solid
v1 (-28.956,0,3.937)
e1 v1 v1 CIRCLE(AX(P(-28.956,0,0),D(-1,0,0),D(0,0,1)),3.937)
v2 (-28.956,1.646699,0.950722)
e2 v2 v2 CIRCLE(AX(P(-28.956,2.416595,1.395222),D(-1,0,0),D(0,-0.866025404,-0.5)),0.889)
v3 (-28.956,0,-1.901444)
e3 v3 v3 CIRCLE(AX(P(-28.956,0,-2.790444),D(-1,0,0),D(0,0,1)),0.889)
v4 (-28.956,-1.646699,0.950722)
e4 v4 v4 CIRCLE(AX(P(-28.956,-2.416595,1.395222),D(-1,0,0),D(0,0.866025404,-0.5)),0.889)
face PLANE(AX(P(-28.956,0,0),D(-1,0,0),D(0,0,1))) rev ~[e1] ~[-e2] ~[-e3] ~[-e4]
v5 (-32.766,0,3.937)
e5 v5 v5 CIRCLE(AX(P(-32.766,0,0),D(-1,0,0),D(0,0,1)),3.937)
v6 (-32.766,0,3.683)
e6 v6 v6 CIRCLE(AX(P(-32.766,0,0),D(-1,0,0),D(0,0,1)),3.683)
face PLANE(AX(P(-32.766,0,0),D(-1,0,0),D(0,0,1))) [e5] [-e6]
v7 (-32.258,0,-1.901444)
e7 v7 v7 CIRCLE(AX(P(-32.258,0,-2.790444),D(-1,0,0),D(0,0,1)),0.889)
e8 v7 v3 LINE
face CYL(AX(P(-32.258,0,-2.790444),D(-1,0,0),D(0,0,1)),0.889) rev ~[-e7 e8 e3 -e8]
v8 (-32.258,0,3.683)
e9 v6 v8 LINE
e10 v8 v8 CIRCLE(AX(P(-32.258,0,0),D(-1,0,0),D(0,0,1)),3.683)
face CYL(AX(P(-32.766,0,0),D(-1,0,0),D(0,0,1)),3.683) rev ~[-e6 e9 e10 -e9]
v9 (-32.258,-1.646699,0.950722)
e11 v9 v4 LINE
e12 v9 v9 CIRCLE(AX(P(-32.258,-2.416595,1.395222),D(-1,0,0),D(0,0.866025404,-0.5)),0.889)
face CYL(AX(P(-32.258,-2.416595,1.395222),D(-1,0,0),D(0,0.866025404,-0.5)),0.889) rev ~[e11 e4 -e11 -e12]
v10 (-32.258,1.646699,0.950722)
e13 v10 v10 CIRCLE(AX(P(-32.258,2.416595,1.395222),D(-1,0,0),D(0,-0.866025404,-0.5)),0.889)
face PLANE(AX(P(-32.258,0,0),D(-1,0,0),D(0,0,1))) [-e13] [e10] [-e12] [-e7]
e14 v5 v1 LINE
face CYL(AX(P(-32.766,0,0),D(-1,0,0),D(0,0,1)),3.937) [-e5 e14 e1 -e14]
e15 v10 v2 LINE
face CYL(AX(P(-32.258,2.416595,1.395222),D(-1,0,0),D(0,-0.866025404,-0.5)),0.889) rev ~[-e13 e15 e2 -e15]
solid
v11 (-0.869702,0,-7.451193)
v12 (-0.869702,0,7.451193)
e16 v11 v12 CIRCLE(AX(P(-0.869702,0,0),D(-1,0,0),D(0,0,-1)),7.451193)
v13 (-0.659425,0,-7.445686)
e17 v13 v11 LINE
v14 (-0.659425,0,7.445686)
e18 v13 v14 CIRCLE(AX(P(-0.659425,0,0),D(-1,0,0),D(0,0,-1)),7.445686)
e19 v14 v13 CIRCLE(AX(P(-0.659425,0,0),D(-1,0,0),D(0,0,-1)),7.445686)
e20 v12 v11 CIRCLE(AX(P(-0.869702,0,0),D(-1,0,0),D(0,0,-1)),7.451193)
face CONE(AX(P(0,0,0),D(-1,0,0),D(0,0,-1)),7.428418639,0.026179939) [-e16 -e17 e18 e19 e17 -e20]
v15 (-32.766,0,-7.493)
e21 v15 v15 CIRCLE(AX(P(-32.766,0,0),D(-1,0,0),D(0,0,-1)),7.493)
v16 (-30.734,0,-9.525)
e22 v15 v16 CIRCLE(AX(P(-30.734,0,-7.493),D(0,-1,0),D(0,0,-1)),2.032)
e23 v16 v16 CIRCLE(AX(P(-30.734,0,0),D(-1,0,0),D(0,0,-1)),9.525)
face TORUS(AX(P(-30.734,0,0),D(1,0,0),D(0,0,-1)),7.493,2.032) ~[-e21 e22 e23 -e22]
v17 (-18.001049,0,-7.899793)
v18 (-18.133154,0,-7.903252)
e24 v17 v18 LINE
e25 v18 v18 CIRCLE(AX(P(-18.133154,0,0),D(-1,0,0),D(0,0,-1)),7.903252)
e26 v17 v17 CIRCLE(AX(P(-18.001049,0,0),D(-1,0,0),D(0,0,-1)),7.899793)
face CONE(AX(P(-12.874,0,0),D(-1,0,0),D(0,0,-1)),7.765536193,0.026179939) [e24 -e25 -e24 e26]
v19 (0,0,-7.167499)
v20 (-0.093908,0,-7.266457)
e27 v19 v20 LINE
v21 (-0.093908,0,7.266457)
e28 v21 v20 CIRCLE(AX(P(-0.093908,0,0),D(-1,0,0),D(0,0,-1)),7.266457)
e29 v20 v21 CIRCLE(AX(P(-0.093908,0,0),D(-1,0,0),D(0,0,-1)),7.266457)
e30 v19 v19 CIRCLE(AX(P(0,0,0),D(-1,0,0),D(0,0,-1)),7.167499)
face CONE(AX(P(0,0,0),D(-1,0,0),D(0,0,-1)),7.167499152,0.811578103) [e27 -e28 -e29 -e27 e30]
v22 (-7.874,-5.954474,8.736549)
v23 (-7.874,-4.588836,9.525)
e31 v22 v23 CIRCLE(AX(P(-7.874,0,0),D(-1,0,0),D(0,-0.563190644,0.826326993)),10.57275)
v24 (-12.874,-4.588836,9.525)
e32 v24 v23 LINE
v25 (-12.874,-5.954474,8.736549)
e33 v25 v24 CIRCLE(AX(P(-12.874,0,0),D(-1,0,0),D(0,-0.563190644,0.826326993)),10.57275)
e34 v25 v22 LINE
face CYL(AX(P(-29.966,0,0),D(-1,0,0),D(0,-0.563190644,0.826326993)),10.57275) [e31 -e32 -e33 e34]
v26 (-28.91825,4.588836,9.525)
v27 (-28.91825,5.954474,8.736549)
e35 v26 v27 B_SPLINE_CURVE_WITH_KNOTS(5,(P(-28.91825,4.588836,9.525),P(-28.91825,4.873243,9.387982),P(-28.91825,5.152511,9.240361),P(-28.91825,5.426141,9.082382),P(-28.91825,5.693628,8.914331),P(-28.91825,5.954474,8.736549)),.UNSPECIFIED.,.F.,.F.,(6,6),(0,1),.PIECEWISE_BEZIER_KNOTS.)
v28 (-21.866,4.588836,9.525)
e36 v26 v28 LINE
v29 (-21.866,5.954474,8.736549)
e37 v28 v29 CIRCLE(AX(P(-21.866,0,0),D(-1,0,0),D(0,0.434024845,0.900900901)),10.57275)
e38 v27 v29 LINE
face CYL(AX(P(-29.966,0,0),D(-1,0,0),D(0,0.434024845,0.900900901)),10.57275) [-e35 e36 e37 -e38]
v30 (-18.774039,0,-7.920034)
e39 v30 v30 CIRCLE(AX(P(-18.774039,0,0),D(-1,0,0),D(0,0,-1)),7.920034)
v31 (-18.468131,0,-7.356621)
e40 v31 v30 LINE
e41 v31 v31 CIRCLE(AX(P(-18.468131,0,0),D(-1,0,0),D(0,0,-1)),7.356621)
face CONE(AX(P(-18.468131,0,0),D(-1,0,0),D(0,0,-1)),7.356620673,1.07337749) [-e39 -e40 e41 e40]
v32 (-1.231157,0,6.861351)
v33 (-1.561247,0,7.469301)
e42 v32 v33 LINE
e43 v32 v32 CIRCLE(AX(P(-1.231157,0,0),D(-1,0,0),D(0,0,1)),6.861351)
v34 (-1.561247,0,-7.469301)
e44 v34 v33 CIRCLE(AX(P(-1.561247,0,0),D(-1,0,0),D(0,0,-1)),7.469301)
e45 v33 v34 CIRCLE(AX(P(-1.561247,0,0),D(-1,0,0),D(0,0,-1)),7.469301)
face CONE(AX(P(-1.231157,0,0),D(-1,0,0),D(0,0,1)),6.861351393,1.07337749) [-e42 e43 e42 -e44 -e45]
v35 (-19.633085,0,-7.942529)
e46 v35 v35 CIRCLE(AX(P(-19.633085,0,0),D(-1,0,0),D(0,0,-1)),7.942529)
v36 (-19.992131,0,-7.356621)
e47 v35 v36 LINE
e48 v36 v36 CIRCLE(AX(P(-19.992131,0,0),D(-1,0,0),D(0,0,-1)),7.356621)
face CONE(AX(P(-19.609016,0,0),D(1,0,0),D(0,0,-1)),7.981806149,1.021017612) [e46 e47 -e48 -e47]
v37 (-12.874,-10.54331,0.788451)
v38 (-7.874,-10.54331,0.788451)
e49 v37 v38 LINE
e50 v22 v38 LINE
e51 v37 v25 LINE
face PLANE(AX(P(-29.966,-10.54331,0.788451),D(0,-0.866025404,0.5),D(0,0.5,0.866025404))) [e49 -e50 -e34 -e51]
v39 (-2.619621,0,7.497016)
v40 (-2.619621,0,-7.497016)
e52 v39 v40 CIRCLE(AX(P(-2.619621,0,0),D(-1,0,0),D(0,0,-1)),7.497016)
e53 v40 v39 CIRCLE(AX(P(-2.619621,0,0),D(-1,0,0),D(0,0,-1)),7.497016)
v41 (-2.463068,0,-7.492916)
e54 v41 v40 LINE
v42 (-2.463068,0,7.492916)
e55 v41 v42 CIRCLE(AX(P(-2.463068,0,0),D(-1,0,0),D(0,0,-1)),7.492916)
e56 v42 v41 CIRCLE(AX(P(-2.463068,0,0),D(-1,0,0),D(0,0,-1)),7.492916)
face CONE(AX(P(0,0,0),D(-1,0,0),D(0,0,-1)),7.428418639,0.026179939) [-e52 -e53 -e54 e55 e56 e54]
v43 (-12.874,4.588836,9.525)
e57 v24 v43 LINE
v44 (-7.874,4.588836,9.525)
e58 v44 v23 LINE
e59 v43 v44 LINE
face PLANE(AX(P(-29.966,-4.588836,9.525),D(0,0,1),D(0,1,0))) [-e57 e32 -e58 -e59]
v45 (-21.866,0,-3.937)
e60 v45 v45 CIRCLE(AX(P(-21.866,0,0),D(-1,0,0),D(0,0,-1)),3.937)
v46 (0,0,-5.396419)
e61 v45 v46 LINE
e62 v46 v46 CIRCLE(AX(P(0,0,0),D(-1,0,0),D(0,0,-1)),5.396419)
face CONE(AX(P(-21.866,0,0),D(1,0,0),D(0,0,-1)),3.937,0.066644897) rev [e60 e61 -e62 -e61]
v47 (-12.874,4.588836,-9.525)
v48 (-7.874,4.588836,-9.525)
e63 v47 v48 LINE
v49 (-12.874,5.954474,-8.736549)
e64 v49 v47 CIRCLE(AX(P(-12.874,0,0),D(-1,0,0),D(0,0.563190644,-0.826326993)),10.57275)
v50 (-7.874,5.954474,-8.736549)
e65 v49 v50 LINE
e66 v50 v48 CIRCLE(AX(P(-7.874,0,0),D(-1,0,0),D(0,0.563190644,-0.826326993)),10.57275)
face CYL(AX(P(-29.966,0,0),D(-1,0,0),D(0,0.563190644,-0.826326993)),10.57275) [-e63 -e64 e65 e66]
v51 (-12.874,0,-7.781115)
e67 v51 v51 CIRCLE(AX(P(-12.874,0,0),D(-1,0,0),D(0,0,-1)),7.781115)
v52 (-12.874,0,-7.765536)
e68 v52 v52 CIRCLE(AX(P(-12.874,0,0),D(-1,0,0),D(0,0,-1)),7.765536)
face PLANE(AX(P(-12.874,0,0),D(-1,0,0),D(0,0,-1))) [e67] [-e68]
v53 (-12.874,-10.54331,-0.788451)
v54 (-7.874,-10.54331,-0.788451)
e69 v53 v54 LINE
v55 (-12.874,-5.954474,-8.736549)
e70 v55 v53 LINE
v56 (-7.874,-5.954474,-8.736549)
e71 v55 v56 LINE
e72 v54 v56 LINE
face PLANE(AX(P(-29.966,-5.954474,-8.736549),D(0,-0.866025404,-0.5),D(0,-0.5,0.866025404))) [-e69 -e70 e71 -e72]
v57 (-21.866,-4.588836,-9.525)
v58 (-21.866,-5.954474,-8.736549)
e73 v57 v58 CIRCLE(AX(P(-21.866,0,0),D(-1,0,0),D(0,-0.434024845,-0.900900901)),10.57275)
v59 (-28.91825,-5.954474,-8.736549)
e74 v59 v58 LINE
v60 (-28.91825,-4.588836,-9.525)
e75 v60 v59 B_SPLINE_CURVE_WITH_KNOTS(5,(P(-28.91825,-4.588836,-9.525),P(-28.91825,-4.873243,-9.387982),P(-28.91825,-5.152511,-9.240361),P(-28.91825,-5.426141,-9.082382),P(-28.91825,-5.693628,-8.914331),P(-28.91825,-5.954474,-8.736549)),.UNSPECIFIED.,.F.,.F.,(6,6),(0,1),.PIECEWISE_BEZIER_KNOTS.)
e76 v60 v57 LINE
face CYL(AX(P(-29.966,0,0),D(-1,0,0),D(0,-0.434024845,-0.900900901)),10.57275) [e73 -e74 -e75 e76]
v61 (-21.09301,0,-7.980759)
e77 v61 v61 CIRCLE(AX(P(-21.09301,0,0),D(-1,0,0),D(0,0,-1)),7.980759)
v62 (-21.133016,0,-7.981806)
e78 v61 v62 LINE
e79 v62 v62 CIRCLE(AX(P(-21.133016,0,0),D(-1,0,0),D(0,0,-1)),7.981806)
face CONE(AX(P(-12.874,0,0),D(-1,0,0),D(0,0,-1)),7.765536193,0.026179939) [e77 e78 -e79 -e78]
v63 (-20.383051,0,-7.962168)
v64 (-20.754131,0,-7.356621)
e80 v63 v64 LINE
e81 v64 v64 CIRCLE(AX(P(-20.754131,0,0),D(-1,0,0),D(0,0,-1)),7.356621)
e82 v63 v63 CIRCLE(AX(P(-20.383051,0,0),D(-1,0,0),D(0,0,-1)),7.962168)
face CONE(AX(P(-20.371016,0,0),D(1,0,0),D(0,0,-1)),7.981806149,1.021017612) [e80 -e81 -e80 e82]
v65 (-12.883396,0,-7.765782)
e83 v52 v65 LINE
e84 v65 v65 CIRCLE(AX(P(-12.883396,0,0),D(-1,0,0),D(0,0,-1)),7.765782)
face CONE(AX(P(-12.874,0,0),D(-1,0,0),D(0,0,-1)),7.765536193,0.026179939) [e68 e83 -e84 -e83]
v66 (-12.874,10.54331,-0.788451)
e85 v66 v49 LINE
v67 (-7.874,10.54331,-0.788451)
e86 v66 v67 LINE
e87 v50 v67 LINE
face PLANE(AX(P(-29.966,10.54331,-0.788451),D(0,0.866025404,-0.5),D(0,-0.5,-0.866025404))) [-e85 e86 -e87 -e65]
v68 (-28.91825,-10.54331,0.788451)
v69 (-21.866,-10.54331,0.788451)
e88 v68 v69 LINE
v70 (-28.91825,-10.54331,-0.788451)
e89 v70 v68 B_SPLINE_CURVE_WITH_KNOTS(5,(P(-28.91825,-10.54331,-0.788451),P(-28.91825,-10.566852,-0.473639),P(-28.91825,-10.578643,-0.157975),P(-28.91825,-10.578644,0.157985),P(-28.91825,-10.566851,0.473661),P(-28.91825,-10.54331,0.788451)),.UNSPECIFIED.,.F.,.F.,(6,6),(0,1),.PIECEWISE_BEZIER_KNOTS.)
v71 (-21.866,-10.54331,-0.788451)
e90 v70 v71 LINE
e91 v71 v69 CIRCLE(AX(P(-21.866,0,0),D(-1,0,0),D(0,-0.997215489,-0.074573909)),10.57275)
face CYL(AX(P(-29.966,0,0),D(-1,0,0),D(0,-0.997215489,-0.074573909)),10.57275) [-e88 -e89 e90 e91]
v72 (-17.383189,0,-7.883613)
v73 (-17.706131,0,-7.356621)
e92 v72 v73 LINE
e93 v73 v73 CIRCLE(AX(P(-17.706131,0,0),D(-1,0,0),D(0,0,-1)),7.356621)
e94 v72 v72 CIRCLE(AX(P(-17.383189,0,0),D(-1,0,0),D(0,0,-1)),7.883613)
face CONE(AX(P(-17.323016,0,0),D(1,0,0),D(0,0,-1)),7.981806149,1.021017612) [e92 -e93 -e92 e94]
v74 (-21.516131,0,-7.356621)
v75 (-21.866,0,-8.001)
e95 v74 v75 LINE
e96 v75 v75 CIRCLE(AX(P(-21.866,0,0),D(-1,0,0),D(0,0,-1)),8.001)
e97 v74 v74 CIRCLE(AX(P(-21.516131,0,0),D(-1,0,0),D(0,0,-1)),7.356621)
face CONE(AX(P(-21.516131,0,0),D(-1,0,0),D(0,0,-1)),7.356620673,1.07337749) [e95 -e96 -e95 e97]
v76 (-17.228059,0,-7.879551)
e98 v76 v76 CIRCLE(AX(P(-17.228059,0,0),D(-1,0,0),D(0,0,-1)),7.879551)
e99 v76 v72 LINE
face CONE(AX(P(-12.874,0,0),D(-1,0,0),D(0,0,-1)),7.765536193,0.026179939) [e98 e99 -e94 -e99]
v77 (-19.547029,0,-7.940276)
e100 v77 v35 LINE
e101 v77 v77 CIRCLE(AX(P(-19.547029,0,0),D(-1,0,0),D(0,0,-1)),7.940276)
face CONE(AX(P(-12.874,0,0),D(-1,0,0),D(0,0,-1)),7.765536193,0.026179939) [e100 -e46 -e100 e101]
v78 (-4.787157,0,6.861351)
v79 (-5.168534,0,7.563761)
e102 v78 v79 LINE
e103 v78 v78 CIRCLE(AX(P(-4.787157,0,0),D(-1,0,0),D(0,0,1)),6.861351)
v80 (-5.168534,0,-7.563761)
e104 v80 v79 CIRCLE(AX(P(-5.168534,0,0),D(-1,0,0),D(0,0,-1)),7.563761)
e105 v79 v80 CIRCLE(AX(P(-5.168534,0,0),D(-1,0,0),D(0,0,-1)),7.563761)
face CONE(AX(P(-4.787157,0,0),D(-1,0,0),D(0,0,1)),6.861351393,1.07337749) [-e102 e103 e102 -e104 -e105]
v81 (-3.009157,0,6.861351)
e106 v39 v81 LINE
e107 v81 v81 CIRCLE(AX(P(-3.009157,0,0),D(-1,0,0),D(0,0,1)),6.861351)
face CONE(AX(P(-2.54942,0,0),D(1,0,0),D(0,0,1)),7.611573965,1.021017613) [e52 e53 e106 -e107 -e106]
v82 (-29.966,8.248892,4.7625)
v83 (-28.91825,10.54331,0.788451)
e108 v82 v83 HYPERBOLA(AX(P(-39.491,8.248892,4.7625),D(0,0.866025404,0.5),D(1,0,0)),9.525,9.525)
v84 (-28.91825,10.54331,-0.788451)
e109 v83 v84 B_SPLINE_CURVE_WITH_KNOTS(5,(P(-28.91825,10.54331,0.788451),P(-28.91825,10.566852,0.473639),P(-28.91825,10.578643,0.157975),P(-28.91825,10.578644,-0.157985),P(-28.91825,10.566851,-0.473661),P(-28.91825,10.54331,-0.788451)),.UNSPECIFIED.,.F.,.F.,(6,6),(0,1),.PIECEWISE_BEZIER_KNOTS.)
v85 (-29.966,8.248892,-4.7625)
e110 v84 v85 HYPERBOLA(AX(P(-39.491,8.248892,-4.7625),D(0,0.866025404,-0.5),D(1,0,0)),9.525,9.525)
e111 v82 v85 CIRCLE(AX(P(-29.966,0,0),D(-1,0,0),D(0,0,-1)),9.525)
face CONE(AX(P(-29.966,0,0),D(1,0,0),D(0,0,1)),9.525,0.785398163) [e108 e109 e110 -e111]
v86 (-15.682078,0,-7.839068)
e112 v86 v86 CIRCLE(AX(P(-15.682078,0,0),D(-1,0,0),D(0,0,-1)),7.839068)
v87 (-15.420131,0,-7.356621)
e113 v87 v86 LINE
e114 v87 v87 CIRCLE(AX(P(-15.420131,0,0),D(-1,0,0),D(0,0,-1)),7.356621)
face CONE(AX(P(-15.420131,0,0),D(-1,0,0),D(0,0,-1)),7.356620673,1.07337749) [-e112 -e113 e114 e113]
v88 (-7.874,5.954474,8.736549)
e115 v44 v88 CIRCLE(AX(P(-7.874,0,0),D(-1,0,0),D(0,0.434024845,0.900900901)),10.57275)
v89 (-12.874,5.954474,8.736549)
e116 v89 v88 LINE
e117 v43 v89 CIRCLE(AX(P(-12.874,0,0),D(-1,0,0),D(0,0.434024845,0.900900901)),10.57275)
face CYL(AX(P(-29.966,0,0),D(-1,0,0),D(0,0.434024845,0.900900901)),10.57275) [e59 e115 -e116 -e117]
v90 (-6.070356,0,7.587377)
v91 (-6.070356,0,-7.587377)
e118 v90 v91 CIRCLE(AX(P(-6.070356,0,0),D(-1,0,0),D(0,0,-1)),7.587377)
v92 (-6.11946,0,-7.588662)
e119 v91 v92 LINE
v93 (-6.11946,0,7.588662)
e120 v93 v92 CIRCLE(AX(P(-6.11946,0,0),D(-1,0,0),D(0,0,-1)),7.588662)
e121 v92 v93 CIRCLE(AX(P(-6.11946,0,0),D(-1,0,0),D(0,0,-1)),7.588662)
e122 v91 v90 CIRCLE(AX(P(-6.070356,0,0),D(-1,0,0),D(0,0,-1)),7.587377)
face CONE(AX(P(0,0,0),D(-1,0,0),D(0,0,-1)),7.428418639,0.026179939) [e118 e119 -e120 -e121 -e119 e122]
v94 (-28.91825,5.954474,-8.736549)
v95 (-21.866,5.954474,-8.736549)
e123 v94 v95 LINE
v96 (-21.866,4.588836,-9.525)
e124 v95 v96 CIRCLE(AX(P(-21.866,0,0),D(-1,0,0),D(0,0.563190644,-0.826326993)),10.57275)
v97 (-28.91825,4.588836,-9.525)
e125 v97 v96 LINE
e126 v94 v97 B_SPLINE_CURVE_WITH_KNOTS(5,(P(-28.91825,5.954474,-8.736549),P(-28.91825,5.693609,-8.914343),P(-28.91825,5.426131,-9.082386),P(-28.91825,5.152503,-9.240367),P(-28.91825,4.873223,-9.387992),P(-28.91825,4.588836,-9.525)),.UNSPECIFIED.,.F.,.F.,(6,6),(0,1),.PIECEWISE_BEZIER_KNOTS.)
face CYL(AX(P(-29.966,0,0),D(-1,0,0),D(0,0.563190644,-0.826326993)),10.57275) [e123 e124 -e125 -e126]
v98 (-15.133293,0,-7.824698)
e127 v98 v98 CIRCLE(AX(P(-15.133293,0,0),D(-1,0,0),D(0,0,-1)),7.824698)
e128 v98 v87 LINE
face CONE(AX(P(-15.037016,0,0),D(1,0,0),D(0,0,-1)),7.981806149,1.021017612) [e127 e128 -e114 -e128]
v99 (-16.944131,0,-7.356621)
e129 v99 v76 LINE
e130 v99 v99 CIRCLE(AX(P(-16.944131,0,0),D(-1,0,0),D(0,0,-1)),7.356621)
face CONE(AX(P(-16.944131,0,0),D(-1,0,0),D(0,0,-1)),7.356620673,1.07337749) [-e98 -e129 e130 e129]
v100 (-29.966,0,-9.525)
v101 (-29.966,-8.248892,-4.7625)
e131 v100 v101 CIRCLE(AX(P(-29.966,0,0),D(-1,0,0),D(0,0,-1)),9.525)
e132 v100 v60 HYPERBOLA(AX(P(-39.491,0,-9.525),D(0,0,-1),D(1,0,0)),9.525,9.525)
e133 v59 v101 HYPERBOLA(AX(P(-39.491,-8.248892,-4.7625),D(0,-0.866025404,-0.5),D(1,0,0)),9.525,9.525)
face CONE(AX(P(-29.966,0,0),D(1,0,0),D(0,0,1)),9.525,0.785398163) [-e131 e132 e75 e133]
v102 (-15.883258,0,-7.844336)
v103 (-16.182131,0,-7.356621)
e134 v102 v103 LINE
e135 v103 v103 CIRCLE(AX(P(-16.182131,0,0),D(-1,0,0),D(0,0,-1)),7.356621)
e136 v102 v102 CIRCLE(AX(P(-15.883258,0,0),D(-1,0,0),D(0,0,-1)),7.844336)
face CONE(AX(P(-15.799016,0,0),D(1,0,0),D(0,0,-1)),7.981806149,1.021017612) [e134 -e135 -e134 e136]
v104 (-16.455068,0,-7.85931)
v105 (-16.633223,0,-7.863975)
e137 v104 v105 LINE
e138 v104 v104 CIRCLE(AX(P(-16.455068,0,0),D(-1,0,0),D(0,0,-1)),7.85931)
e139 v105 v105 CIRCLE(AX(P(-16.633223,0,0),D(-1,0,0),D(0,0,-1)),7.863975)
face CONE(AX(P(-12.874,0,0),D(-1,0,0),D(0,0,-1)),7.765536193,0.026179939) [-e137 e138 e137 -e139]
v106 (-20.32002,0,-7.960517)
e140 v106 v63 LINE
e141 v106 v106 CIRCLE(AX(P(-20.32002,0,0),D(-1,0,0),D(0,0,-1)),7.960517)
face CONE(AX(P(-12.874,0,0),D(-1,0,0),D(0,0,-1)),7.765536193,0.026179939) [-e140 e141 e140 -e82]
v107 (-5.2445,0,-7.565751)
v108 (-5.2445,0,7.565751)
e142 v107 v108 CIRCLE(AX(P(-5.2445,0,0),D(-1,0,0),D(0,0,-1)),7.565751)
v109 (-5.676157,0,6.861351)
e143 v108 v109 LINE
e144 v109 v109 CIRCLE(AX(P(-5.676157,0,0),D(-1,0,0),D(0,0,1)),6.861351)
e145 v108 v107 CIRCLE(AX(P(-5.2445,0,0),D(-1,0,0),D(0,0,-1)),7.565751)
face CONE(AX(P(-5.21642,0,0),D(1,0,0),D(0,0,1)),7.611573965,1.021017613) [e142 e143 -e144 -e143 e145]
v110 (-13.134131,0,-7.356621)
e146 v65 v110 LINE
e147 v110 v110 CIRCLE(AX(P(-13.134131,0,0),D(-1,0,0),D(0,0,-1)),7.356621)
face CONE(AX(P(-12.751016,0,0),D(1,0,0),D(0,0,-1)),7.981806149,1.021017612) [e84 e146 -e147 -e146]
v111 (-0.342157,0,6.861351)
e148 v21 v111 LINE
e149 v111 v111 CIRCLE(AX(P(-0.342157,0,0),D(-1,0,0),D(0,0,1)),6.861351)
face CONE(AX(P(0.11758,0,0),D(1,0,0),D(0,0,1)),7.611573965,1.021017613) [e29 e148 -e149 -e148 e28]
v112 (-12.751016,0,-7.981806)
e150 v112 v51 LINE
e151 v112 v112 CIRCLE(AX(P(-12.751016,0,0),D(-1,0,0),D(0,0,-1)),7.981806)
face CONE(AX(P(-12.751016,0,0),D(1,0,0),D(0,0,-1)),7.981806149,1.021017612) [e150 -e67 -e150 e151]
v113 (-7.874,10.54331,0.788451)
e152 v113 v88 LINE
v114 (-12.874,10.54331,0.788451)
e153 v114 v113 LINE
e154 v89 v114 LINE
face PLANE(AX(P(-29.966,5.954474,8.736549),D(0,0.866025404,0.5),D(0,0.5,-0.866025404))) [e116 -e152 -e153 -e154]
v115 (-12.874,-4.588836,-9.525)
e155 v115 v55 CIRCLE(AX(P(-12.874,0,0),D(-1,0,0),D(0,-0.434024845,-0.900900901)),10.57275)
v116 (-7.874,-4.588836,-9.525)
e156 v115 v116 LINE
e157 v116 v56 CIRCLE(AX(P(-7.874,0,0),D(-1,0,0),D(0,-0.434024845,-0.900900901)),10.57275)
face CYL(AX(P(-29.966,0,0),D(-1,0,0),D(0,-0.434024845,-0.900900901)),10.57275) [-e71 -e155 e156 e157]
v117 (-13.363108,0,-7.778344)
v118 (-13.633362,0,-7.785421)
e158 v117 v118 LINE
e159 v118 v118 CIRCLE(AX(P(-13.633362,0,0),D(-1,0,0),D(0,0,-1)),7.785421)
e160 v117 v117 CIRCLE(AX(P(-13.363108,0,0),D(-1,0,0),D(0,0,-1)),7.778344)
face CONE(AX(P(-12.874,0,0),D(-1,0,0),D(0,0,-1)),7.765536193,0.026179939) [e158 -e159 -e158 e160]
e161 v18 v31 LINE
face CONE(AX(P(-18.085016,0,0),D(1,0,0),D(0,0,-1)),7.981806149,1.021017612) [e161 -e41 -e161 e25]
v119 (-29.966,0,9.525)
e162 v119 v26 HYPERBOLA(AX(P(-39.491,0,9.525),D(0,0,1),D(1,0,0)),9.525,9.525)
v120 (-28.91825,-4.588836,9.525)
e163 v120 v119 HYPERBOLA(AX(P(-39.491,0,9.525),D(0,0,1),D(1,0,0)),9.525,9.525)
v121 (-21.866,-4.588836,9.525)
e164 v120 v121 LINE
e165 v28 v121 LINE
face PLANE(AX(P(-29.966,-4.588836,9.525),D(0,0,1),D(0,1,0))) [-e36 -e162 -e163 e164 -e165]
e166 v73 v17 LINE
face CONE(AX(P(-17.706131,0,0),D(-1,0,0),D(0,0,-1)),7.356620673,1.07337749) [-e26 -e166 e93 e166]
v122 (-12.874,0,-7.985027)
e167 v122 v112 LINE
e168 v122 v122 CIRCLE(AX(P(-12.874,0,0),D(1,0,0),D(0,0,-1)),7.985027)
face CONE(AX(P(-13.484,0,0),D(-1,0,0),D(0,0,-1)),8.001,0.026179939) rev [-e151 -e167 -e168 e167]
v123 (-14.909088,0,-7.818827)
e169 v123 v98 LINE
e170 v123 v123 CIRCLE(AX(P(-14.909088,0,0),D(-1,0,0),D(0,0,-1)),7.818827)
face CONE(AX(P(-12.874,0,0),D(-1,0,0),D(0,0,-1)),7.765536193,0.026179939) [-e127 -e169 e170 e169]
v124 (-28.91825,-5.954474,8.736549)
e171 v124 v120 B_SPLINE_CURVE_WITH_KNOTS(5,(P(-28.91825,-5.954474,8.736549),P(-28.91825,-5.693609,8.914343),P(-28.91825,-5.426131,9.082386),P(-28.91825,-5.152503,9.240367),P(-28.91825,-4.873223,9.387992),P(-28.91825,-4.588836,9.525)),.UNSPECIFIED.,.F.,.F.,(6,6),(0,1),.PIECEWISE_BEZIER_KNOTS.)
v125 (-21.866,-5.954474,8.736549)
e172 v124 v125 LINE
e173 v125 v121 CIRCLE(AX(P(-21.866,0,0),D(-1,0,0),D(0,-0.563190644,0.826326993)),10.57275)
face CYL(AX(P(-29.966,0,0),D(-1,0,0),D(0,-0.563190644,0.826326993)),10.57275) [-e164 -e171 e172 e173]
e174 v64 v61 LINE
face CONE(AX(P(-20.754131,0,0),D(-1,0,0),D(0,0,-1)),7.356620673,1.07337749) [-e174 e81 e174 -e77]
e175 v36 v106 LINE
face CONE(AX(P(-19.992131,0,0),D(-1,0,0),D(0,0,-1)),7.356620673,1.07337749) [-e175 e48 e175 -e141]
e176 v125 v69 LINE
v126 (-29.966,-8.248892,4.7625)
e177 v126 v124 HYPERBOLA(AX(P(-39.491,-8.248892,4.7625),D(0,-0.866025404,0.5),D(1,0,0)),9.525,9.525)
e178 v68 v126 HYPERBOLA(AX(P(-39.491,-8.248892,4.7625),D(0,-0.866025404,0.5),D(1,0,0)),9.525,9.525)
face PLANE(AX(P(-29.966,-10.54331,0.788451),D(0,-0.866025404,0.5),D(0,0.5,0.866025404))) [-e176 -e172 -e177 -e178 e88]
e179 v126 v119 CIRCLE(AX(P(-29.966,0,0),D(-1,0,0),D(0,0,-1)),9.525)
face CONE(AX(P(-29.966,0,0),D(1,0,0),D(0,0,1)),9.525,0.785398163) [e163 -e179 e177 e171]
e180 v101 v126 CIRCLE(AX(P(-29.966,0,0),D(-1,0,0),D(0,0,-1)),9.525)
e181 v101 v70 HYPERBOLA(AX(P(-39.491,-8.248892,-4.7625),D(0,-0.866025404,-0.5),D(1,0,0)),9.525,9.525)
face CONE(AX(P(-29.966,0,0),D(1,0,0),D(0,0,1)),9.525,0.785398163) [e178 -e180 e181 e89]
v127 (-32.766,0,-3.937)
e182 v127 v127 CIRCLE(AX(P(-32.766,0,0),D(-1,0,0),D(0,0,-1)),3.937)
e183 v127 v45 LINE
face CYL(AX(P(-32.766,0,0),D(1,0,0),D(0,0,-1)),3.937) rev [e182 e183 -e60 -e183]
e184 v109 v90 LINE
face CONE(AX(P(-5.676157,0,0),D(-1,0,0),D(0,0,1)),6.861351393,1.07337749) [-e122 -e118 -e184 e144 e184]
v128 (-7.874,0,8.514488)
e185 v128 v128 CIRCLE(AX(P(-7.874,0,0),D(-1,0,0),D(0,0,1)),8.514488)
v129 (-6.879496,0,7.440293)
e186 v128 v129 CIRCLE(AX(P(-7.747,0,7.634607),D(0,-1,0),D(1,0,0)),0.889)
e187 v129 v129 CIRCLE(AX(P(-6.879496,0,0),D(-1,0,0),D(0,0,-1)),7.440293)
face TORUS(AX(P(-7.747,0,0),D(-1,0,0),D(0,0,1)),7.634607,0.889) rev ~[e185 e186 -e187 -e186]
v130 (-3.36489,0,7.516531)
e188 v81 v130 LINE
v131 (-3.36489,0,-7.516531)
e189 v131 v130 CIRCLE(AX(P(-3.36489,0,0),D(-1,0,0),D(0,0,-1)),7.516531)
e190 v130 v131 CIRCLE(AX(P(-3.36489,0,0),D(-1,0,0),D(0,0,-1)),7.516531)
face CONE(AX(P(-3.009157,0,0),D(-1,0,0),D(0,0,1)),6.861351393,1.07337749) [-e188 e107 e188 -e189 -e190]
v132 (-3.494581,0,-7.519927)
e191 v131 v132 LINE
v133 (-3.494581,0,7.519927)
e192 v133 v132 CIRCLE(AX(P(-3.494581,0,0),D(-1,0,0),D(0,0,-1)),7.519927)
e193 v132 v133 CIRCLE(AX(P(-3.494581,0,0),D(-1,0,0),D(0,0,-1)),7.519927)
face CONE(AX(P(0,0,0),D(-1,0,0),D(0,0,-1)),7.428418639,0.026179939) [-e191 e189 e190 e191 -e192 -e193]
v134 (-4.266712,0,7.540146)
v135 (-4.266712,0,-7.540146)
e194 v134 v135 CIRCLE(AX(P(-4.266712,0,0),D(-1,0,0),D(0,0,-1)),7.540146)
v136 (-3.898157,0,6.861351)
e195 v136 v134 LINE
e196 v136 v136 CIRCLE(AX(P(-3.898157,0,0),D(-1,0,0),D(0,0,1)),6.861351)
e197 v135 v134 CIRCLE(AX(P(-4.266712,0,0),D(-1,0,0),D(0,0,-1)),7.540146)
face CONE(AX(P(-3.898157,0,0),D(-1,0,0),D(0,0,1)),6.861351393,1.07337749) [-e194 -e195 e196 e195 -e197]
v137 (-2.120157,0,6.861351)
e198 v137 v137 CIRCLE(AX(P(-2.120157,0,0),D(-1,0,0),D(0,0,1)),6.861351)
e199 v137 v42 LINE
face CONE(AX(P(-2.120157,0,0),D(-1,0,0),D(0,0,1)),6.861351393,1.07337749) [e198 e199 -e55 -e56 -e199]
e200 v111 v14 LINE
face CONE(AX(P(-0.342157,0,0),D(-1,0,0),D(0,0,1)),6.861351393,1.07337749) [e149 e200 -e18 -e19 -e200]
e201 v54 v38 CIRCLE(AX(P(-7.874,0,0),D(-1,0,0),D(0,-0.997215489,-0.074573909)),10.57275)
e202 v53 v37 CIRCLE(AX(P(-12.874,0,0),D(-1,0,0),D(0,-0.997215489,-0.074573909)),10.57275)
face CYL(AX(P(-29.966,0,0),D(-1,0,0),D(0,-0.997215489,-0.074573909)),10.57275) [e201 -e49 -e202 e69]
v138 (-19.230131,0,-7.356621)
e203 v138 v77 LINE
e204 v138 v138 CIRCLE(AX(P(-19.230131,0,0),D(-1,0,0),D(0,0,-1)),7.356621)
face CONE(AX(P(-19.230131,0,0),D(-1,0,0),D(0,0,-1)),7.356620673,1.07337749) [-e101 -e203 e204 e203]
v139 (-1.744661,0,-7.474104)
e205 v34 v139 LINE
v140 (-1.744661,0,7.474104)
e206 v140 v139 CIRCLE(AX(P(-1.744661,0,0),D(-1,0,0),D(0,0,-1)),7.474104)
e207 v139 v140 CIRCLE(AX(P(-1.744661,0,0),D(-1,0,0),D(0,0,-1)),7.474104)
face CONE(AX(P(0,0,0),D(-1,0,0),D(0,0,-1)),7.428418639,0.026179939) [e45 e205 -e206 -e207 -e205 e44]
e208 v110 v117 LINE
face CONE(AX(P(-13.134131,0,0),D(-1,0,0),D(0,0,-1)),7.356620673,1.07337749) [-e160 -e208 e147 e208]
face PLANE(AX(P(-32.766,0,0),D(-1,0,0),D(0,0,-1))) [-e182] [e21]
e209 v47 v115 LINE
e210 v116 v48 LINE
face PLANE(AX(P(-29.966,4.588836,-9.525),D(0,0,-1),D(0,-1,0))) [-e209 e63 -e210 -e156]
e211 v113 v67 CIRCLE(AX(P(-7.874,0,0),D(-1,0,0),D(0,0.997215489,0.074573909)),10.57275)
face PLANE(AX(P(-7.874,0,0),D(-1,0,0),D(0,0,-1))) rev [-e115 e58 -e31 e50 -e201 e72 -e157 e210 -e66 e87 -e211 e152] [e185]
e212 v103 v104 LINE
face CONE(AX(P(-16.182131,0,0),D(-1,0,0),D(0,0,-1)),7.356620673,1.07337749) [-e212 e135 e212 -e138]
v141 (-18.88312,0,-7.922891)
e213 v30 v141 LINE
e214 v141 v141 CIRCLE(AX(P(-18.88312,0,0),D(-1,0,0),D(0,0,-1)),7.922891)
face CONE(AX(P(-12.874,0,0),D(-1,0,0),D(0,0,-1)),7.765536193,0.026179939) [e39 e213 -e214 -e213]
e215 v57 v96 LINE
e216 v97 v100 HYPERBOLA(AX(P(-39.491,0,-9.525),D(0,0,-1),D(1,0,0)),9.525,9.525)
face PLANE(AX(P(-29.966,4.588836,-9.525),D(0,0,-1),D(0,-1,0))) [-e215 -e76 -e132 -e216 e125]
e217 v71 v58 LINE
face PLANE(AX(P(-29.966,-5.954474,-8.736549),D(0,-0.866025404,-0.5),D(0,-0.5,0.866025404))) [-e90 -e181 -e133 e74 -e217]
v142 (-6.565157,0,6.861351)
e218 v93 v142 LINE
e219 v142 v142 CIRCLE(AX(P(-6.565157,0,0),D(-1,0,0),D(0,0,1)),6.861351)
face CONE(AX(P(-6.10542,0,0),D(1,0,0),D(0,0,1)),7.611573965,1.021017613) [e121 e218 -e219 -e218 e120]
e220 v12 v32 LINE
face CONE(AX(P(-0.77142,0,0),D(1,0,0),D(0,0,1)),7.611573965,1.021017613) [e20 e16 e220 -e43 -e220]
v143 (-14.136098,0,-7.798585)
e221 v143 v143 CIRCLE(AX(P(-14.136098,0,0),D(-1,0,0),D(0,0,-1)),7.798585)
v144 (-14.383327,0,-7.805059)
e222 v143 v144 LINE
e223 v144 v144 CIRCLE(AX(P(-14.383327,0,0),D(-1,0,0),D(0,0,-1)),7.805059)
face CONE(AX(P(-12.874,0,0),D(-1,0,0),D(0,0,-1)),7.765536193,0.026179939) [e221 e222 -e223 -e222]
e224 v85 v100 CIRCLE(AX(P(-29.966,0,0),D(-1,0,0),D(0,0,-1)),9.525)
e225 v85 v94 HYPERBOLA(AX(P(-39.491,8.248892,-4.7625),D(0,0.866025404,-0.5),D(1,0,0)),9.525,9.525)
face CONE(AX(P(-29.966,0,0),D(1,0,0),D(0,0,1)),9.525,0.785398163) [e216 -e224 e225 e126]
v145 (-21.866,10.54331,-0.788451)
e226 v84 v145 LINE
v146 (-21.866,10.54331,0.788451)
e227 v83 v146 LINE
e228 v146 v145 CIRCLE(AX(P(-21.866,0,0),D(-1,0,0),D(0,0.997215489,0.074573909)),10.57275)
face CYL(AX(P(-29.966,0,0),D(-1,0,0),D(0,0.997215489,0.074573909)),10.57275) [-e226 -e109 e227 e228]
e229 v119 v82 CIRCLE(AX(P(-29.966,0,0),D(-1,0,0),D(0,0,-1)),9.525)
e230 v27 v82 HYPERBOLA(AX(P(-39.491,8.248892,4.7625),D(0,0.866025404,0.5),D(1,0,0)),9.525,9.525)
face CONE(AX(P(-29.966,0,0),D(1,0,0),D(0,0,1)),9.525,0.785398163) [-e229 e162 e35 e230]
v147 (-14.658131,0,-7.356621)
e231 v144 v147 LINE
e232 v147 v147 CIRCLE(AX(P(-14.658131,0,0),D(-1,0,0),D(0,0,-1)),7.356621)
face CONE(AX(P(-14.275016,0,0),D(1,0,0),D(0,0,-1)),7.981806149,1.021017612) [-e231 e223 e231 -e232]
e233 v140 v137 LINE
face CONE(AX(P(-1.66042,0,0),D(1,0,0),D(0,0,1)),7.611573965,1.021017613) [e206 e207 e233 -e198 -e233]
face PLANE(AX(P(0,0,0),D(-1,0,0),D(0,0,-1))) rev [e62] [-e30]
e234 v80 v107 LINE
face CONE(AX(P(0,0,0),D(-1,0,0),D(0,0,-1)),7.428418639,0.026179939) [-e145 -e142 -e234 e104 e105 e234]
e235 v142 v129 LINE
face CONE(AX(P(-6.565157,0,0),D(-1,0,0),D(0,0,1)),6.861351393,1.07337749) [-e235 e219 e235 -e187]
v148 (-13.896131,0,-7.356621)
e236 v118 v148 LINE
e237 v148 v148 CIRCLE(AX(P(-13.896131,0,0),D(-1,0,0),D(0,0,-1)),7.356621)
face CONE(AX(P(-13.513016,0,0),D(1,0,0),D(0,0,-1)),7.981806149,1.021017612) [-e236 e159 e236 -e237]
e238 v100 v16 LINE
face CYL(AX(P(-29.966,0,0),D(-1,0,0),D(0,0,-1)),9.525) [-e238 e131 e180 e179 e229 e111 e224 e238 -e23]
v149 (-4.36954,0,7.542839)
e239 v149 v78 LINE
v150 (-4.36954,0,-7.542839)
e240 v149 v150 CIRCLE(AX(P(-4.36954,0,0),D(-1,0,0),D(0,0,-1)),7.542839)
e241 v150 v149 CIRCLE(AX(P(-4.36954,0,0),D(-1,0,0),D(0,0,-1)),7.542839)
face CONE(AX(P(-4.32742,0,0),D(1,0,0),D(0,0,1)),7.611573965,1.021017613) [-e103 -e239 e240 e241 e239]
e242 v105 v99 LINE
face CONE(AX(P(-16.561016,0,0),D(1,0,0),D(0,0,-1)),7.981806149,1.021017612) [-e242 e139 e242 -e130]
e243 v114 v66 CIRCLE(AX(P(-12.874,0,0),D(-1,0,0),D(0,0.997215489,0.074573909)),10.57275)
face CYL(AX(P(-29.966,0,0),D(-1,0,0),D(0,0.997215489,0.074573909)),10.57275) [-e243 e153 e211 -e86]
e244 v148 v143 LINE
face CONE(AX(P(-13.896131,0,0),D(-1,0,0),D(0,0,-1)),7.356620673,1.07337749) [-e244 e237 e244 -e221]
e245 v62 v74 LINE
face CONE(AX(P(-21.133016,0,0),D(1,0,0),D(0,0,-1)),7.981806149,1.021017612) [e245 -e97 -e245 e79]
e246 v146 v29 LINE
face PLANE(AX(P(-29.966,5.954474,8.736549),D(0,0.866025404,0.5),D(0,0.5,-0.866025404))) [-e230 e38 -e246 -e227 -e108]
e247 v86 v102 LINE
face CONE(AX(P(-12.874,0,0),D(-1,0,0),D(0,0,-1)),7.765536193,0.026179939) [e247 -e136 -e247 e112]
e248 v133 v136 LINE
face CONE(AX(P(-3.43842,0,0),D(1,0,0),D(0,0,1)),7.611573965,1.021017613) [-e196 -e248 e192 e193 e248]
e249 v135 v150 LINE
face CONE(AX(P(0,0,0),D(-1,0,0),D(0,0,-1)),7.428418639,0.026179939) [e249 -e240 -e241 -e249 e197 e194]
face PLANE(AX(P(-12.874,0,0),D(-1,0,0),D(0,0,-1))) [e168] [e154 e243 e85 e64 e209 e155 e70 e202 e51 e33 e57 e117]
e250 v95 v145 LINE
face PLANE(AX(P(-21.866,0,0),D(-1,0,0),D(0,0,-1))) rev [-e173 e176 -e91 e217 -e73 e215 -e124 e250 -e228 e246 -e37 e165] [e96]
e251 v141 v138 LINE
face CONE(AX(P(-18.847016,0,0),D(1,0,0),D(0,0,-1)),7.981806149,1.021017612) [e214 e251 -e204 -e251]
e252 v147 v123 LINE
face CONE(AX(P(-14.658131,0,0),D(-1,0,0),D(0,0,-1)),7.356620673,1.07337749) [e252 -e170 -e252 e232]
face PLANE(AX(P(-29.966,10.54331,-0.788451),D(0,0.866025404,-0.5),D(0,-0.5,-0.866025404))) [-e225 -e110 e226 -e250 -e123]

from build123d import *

# Parameters (mm, degrees)
SKETCH12_OUTSIDE_W = 52.712
SKETCH12_OUTSIDE_H = 52.712
CUT_EXTRUDE2_DEPTH = 30.966
FILLET4_R          = 2.032
SKETCH19_OUTSIDE_W = 33.73
SKETCH19_OUTSIDE_H = 35.826
SKETCH19_OUTSIDE_R = 9.525
CUT_EXTRUDE3_DEPTH = 1.999996
CUT_EXTRUDE3_DRAFT = -45
CHAMFER1_SIZE      = 0.260919487
CHAMFER1_SIZE2     = 0.254
SKETCH21_R         = 3.937
PLUG_DEPTH         = 3.81
SKETCH22_R         = 3.683
CUT_EXTRUDE4_DEPTH = 0.508
SKETCH27_R         = 0.889
PLUGHOLES_DEPTH    = 33.258
CIRPATTERN1_COUNT  = 3
LPATTERN1_COUNT    = 12
LPATTERN1_PITCH    = 0.762
LPATTERN2_COUNT    = 9
LPATTERN2_PITCH    = 0.889
SKETCH32_R         = 0.889


with BuildPart() as part:
    # Sketch10 → Revolve2 (revolve)
    with BuildSketch(Plane.XY, mode=Mode.PRIVATE) as revolve2_sk:
        Polygon((-32.766, 3.937), (-21.866, 3.937), (0, 5.396418639), (0, 7.428418639), (-7.874, 7.634606585), (-7.874, 19.05), (-12.874, 19.05), (-12.874, 7.765536193), (-21.866, 8.001), (-21.866, 19.05), (-29.966, 19.05), (-29.966, 9.525), (-32.766, 9.525), align=None)
    revolve(revolve2_sk.sketch.rotate(Axis((0, 0, 0), (-1, 0, 0)), 90), axis=Axis((0, 0, 0), (-1, 0, 0)))  # turned: the seam where the file's is

    # Sketch12 outside → Cut-Extrude2 (cut, through all)
    with BuildSketch(Plane.ZY.offset(29.966)):
        Rectangle(SKETCH12_OUTSIDE_W, SKETCH12_OUTSIDE_H)
        with BuildLine():
            Line((-0.788451287, 10.543310065), (-8.736548713, 5.954473877))
            ThreePointArc((-8.736548713, 5.954473877), (-9.156270088, 5.286375), (-9.525, 4.588836188))
            Line((-9.525, 4.588836188), (-9.525, -4.588836188))
            ThreePointArc((-9.525, -4.588836188), (-9.156270088, -5.286375), (-8.736548713, -5.954473877))
            Line((-8.736548713, -5.954473877), (-0.788451287, -10.543310065))
            ThreePointArc((-0.788451287, -10.543310065), (0, -10.57275), (0.788451287, -10.543310065))
            Line((0.788451287, -10.543310065), (8.736548713, -5.954473877))
            ThreePointArc((8.736548713, -5.954473877), (9.156270088, -5.286375), (9.525, -4.588836188))
            Line((9.525, -4.588836188), (9.525, 4.588836188))
            ThreePointArc((9.525, 4.588836188), (9.156270088, 5.286375), (8.736548713, 5.954473877))
            Line((8.736548713, 5.954473877), (0.788451287, 10.543310065))
            ThreePointArc((0.788451287, 10.543310065), (0, 10.57275), (-0.788451287, 10.543310065))
        make_face(mode=Mode.SUBTRACT)
    extrude(amount=-CUT_EXTRUDE2_DEPTH, mode=Mode.SUBTRACT)

    # Fillet4
    fillet4_edges = [part.edges().sort_by_distance(p)[0] for p in [
        (-32.766, 0, 9.525),
    ]]
    fillet(fillet4_edges, radius=FILLET4_R)


with BuildPart() as cut_extrude3_tool:
    # Sketch19 outside → Cut-Extrude3 (with draft: the straight prism first)
    with BuildSketch(Plane.ZY.offset(29.966)):
        Rectangle(SKETCH19_OUTSIDE_W, SKETCH19_OUTSIDE_H)
        Circle(SKETCH19_OUTSIDE_R, mode=Mode.SUBTRACT)
    extrude(amount=-CUT_EXTRUDE3_DEPTH)
    # Cut-Extrude3: the draft: its side faces are tilted about the plane it starts from
    cut_extrude3_sides = [cut_extrude3_tool.faces().sort_by_distance(p)[0] for p in [
        (-28.966002, -17.913, 0),
        (-28.966002, 0, 16.865),
        (-28.966002, 17.913, 0),
        (-28.966002, 0, -16.865),
        (-28.966002, 0, -9.525),
    ]]
    draft(cut_extrude3_sides, Plane.ZY.offset(29.966), CUT_EXTRUDE3_DRAFT)


with BuildPart() as part_1:
    add(part.part)

    # Cut-Extrude3: cut by cut_extrude3_tool
    add(cut_extrude3_tool.part, mode=Mode.SUBTRACT)

    # Chamfer1
    chamfer1_edges = [part_1.edges().sort_by_distance(p)[0] for p in [
        (0, 0, 7.428418639),
    ]]
    chamfer1_side = [part_1.faces().sort_by_distance(p)[0] for p in [
        (0, 0, 5.606526047),
    ]]
    chamfer(chamfer1_edges, length=CHAMFER1_SIZE, length2=CHAMFER1_SIZE2, reference=chamfer1_side[0])

    # Sketch29 → Cut-Revolve1 (revolve, cut)
    with BuildSketch(Plane.XY, mode=Mode.PRIVATE) as cut_revolve1_sk:
        Polygon((-21.866, 8.001), (-21.133016419, 7.981806149), (-21.516130572, 7.356620673), align=None)
    cut_revolve1 = revolve(cut_revolve1_sk.sketch.rotate(Axis((0, 0, 0), (-1, 0, 0)), 90), axis=Axis((0, 0, 0), (-1, 0, 0)), mode=Mode.SUBTRACT)  # turned: the seam where the file's is

    # LPattern1: Cut-Revolve1 ×12
    with Locations(*[(i * LPATTERN1_PITCH, 0, 0) for i in range(1, LPATTERN1_COUNT)]):
        add(cut_revolve1, mode=Mode.SUBTRACT)

    # Sketch30 → Cut-Revolve2 (revolve, cut)
    with BuildSketch(Plane.XY, mode=Mode.PRIVATE) as cut_revolve2_sk:
        Polygon((-7.874, 7.634606585), (-6.994419703, 7.611573965), (-7.454156686, 6.861351393), align=None)
    cut_revolve2 = revolve(cut_revolve2_sk.sketch.rotate(Axis((0, 0, 0), (-1, 0, 0)), 270), axis=Axis((0, 0, 0), (-1, 0, 0)), mode=Mode.SUBTRACT)  # turned: the seam where the file's is

    # LPattern2: Cut-Revolve2 ×9
    with Locations(*[(i * LPATTERN2_PITCH, 0, 0) for i in range(1, LPATTERN2_COUNT)]):
        add(cut_revolve2, mode=Mode.SUBTRACT)

    # Sketch32 → Cut-Revolve3 (revolve, cut)
    with BuildSketch(Plane.XY, mode=Mode.PRIVATE) as cut_revolve3_sk:
        with Locations((-7.747, 7.634606585)):
            Circle(SKETCH32_R)
    revolve(cut_revolve3_sk.sketch.rotate(Axis((0, 0, 0), (-1, 0, 0)), 270), axis=Axis((0, 0, 0), (-1, 0, 0)), mode=Mode.SUBTRACT)  # turned: the seam where the file's is


with BuildPart() as body_2:
    # Sketch21 → plug (new body)
    with BuildSketch(Plane.ZY.offset(32.766)):
        Circle(SKETCH21_R)
    extrude(amount=-PLUG_DEPTH)

    # Sketch22 → Cut-Extrude4 (cut)
    with BuildSketch(Plane.ZY.offset(32.766)):
        Circle(SKETCH22_R)
    extrude(amount=-CUT_EXTRUDE4_DEPTH, mode=Mode.SUBTRACT)

    # Sketch27 → plugholes (cut, through all)
    with BuildSketch(Plane.ZY.offset(32.258)):
        with Locations((-2.790444, 0)):
            Circle(SKETCH27_R)
    plugholes = extrude(amount=-PLUGHOLES_DEPTH, mode=Mode.SUBTRACT)

    # CirPattern1: plugholes ×3 about axis
    cirpattern1_axis = Axis((0, 0, 0), (1, 0, 0))
    for i in range(1, CIRPATTERN1_COUNT):
        add(plugholes.rotate(cirpattern1_axis, i * 360 / CIRPATTERN1_COUNT), mode=Mode.SUBTRACT)


solid = Compound([part_1.part, body_2.part])
